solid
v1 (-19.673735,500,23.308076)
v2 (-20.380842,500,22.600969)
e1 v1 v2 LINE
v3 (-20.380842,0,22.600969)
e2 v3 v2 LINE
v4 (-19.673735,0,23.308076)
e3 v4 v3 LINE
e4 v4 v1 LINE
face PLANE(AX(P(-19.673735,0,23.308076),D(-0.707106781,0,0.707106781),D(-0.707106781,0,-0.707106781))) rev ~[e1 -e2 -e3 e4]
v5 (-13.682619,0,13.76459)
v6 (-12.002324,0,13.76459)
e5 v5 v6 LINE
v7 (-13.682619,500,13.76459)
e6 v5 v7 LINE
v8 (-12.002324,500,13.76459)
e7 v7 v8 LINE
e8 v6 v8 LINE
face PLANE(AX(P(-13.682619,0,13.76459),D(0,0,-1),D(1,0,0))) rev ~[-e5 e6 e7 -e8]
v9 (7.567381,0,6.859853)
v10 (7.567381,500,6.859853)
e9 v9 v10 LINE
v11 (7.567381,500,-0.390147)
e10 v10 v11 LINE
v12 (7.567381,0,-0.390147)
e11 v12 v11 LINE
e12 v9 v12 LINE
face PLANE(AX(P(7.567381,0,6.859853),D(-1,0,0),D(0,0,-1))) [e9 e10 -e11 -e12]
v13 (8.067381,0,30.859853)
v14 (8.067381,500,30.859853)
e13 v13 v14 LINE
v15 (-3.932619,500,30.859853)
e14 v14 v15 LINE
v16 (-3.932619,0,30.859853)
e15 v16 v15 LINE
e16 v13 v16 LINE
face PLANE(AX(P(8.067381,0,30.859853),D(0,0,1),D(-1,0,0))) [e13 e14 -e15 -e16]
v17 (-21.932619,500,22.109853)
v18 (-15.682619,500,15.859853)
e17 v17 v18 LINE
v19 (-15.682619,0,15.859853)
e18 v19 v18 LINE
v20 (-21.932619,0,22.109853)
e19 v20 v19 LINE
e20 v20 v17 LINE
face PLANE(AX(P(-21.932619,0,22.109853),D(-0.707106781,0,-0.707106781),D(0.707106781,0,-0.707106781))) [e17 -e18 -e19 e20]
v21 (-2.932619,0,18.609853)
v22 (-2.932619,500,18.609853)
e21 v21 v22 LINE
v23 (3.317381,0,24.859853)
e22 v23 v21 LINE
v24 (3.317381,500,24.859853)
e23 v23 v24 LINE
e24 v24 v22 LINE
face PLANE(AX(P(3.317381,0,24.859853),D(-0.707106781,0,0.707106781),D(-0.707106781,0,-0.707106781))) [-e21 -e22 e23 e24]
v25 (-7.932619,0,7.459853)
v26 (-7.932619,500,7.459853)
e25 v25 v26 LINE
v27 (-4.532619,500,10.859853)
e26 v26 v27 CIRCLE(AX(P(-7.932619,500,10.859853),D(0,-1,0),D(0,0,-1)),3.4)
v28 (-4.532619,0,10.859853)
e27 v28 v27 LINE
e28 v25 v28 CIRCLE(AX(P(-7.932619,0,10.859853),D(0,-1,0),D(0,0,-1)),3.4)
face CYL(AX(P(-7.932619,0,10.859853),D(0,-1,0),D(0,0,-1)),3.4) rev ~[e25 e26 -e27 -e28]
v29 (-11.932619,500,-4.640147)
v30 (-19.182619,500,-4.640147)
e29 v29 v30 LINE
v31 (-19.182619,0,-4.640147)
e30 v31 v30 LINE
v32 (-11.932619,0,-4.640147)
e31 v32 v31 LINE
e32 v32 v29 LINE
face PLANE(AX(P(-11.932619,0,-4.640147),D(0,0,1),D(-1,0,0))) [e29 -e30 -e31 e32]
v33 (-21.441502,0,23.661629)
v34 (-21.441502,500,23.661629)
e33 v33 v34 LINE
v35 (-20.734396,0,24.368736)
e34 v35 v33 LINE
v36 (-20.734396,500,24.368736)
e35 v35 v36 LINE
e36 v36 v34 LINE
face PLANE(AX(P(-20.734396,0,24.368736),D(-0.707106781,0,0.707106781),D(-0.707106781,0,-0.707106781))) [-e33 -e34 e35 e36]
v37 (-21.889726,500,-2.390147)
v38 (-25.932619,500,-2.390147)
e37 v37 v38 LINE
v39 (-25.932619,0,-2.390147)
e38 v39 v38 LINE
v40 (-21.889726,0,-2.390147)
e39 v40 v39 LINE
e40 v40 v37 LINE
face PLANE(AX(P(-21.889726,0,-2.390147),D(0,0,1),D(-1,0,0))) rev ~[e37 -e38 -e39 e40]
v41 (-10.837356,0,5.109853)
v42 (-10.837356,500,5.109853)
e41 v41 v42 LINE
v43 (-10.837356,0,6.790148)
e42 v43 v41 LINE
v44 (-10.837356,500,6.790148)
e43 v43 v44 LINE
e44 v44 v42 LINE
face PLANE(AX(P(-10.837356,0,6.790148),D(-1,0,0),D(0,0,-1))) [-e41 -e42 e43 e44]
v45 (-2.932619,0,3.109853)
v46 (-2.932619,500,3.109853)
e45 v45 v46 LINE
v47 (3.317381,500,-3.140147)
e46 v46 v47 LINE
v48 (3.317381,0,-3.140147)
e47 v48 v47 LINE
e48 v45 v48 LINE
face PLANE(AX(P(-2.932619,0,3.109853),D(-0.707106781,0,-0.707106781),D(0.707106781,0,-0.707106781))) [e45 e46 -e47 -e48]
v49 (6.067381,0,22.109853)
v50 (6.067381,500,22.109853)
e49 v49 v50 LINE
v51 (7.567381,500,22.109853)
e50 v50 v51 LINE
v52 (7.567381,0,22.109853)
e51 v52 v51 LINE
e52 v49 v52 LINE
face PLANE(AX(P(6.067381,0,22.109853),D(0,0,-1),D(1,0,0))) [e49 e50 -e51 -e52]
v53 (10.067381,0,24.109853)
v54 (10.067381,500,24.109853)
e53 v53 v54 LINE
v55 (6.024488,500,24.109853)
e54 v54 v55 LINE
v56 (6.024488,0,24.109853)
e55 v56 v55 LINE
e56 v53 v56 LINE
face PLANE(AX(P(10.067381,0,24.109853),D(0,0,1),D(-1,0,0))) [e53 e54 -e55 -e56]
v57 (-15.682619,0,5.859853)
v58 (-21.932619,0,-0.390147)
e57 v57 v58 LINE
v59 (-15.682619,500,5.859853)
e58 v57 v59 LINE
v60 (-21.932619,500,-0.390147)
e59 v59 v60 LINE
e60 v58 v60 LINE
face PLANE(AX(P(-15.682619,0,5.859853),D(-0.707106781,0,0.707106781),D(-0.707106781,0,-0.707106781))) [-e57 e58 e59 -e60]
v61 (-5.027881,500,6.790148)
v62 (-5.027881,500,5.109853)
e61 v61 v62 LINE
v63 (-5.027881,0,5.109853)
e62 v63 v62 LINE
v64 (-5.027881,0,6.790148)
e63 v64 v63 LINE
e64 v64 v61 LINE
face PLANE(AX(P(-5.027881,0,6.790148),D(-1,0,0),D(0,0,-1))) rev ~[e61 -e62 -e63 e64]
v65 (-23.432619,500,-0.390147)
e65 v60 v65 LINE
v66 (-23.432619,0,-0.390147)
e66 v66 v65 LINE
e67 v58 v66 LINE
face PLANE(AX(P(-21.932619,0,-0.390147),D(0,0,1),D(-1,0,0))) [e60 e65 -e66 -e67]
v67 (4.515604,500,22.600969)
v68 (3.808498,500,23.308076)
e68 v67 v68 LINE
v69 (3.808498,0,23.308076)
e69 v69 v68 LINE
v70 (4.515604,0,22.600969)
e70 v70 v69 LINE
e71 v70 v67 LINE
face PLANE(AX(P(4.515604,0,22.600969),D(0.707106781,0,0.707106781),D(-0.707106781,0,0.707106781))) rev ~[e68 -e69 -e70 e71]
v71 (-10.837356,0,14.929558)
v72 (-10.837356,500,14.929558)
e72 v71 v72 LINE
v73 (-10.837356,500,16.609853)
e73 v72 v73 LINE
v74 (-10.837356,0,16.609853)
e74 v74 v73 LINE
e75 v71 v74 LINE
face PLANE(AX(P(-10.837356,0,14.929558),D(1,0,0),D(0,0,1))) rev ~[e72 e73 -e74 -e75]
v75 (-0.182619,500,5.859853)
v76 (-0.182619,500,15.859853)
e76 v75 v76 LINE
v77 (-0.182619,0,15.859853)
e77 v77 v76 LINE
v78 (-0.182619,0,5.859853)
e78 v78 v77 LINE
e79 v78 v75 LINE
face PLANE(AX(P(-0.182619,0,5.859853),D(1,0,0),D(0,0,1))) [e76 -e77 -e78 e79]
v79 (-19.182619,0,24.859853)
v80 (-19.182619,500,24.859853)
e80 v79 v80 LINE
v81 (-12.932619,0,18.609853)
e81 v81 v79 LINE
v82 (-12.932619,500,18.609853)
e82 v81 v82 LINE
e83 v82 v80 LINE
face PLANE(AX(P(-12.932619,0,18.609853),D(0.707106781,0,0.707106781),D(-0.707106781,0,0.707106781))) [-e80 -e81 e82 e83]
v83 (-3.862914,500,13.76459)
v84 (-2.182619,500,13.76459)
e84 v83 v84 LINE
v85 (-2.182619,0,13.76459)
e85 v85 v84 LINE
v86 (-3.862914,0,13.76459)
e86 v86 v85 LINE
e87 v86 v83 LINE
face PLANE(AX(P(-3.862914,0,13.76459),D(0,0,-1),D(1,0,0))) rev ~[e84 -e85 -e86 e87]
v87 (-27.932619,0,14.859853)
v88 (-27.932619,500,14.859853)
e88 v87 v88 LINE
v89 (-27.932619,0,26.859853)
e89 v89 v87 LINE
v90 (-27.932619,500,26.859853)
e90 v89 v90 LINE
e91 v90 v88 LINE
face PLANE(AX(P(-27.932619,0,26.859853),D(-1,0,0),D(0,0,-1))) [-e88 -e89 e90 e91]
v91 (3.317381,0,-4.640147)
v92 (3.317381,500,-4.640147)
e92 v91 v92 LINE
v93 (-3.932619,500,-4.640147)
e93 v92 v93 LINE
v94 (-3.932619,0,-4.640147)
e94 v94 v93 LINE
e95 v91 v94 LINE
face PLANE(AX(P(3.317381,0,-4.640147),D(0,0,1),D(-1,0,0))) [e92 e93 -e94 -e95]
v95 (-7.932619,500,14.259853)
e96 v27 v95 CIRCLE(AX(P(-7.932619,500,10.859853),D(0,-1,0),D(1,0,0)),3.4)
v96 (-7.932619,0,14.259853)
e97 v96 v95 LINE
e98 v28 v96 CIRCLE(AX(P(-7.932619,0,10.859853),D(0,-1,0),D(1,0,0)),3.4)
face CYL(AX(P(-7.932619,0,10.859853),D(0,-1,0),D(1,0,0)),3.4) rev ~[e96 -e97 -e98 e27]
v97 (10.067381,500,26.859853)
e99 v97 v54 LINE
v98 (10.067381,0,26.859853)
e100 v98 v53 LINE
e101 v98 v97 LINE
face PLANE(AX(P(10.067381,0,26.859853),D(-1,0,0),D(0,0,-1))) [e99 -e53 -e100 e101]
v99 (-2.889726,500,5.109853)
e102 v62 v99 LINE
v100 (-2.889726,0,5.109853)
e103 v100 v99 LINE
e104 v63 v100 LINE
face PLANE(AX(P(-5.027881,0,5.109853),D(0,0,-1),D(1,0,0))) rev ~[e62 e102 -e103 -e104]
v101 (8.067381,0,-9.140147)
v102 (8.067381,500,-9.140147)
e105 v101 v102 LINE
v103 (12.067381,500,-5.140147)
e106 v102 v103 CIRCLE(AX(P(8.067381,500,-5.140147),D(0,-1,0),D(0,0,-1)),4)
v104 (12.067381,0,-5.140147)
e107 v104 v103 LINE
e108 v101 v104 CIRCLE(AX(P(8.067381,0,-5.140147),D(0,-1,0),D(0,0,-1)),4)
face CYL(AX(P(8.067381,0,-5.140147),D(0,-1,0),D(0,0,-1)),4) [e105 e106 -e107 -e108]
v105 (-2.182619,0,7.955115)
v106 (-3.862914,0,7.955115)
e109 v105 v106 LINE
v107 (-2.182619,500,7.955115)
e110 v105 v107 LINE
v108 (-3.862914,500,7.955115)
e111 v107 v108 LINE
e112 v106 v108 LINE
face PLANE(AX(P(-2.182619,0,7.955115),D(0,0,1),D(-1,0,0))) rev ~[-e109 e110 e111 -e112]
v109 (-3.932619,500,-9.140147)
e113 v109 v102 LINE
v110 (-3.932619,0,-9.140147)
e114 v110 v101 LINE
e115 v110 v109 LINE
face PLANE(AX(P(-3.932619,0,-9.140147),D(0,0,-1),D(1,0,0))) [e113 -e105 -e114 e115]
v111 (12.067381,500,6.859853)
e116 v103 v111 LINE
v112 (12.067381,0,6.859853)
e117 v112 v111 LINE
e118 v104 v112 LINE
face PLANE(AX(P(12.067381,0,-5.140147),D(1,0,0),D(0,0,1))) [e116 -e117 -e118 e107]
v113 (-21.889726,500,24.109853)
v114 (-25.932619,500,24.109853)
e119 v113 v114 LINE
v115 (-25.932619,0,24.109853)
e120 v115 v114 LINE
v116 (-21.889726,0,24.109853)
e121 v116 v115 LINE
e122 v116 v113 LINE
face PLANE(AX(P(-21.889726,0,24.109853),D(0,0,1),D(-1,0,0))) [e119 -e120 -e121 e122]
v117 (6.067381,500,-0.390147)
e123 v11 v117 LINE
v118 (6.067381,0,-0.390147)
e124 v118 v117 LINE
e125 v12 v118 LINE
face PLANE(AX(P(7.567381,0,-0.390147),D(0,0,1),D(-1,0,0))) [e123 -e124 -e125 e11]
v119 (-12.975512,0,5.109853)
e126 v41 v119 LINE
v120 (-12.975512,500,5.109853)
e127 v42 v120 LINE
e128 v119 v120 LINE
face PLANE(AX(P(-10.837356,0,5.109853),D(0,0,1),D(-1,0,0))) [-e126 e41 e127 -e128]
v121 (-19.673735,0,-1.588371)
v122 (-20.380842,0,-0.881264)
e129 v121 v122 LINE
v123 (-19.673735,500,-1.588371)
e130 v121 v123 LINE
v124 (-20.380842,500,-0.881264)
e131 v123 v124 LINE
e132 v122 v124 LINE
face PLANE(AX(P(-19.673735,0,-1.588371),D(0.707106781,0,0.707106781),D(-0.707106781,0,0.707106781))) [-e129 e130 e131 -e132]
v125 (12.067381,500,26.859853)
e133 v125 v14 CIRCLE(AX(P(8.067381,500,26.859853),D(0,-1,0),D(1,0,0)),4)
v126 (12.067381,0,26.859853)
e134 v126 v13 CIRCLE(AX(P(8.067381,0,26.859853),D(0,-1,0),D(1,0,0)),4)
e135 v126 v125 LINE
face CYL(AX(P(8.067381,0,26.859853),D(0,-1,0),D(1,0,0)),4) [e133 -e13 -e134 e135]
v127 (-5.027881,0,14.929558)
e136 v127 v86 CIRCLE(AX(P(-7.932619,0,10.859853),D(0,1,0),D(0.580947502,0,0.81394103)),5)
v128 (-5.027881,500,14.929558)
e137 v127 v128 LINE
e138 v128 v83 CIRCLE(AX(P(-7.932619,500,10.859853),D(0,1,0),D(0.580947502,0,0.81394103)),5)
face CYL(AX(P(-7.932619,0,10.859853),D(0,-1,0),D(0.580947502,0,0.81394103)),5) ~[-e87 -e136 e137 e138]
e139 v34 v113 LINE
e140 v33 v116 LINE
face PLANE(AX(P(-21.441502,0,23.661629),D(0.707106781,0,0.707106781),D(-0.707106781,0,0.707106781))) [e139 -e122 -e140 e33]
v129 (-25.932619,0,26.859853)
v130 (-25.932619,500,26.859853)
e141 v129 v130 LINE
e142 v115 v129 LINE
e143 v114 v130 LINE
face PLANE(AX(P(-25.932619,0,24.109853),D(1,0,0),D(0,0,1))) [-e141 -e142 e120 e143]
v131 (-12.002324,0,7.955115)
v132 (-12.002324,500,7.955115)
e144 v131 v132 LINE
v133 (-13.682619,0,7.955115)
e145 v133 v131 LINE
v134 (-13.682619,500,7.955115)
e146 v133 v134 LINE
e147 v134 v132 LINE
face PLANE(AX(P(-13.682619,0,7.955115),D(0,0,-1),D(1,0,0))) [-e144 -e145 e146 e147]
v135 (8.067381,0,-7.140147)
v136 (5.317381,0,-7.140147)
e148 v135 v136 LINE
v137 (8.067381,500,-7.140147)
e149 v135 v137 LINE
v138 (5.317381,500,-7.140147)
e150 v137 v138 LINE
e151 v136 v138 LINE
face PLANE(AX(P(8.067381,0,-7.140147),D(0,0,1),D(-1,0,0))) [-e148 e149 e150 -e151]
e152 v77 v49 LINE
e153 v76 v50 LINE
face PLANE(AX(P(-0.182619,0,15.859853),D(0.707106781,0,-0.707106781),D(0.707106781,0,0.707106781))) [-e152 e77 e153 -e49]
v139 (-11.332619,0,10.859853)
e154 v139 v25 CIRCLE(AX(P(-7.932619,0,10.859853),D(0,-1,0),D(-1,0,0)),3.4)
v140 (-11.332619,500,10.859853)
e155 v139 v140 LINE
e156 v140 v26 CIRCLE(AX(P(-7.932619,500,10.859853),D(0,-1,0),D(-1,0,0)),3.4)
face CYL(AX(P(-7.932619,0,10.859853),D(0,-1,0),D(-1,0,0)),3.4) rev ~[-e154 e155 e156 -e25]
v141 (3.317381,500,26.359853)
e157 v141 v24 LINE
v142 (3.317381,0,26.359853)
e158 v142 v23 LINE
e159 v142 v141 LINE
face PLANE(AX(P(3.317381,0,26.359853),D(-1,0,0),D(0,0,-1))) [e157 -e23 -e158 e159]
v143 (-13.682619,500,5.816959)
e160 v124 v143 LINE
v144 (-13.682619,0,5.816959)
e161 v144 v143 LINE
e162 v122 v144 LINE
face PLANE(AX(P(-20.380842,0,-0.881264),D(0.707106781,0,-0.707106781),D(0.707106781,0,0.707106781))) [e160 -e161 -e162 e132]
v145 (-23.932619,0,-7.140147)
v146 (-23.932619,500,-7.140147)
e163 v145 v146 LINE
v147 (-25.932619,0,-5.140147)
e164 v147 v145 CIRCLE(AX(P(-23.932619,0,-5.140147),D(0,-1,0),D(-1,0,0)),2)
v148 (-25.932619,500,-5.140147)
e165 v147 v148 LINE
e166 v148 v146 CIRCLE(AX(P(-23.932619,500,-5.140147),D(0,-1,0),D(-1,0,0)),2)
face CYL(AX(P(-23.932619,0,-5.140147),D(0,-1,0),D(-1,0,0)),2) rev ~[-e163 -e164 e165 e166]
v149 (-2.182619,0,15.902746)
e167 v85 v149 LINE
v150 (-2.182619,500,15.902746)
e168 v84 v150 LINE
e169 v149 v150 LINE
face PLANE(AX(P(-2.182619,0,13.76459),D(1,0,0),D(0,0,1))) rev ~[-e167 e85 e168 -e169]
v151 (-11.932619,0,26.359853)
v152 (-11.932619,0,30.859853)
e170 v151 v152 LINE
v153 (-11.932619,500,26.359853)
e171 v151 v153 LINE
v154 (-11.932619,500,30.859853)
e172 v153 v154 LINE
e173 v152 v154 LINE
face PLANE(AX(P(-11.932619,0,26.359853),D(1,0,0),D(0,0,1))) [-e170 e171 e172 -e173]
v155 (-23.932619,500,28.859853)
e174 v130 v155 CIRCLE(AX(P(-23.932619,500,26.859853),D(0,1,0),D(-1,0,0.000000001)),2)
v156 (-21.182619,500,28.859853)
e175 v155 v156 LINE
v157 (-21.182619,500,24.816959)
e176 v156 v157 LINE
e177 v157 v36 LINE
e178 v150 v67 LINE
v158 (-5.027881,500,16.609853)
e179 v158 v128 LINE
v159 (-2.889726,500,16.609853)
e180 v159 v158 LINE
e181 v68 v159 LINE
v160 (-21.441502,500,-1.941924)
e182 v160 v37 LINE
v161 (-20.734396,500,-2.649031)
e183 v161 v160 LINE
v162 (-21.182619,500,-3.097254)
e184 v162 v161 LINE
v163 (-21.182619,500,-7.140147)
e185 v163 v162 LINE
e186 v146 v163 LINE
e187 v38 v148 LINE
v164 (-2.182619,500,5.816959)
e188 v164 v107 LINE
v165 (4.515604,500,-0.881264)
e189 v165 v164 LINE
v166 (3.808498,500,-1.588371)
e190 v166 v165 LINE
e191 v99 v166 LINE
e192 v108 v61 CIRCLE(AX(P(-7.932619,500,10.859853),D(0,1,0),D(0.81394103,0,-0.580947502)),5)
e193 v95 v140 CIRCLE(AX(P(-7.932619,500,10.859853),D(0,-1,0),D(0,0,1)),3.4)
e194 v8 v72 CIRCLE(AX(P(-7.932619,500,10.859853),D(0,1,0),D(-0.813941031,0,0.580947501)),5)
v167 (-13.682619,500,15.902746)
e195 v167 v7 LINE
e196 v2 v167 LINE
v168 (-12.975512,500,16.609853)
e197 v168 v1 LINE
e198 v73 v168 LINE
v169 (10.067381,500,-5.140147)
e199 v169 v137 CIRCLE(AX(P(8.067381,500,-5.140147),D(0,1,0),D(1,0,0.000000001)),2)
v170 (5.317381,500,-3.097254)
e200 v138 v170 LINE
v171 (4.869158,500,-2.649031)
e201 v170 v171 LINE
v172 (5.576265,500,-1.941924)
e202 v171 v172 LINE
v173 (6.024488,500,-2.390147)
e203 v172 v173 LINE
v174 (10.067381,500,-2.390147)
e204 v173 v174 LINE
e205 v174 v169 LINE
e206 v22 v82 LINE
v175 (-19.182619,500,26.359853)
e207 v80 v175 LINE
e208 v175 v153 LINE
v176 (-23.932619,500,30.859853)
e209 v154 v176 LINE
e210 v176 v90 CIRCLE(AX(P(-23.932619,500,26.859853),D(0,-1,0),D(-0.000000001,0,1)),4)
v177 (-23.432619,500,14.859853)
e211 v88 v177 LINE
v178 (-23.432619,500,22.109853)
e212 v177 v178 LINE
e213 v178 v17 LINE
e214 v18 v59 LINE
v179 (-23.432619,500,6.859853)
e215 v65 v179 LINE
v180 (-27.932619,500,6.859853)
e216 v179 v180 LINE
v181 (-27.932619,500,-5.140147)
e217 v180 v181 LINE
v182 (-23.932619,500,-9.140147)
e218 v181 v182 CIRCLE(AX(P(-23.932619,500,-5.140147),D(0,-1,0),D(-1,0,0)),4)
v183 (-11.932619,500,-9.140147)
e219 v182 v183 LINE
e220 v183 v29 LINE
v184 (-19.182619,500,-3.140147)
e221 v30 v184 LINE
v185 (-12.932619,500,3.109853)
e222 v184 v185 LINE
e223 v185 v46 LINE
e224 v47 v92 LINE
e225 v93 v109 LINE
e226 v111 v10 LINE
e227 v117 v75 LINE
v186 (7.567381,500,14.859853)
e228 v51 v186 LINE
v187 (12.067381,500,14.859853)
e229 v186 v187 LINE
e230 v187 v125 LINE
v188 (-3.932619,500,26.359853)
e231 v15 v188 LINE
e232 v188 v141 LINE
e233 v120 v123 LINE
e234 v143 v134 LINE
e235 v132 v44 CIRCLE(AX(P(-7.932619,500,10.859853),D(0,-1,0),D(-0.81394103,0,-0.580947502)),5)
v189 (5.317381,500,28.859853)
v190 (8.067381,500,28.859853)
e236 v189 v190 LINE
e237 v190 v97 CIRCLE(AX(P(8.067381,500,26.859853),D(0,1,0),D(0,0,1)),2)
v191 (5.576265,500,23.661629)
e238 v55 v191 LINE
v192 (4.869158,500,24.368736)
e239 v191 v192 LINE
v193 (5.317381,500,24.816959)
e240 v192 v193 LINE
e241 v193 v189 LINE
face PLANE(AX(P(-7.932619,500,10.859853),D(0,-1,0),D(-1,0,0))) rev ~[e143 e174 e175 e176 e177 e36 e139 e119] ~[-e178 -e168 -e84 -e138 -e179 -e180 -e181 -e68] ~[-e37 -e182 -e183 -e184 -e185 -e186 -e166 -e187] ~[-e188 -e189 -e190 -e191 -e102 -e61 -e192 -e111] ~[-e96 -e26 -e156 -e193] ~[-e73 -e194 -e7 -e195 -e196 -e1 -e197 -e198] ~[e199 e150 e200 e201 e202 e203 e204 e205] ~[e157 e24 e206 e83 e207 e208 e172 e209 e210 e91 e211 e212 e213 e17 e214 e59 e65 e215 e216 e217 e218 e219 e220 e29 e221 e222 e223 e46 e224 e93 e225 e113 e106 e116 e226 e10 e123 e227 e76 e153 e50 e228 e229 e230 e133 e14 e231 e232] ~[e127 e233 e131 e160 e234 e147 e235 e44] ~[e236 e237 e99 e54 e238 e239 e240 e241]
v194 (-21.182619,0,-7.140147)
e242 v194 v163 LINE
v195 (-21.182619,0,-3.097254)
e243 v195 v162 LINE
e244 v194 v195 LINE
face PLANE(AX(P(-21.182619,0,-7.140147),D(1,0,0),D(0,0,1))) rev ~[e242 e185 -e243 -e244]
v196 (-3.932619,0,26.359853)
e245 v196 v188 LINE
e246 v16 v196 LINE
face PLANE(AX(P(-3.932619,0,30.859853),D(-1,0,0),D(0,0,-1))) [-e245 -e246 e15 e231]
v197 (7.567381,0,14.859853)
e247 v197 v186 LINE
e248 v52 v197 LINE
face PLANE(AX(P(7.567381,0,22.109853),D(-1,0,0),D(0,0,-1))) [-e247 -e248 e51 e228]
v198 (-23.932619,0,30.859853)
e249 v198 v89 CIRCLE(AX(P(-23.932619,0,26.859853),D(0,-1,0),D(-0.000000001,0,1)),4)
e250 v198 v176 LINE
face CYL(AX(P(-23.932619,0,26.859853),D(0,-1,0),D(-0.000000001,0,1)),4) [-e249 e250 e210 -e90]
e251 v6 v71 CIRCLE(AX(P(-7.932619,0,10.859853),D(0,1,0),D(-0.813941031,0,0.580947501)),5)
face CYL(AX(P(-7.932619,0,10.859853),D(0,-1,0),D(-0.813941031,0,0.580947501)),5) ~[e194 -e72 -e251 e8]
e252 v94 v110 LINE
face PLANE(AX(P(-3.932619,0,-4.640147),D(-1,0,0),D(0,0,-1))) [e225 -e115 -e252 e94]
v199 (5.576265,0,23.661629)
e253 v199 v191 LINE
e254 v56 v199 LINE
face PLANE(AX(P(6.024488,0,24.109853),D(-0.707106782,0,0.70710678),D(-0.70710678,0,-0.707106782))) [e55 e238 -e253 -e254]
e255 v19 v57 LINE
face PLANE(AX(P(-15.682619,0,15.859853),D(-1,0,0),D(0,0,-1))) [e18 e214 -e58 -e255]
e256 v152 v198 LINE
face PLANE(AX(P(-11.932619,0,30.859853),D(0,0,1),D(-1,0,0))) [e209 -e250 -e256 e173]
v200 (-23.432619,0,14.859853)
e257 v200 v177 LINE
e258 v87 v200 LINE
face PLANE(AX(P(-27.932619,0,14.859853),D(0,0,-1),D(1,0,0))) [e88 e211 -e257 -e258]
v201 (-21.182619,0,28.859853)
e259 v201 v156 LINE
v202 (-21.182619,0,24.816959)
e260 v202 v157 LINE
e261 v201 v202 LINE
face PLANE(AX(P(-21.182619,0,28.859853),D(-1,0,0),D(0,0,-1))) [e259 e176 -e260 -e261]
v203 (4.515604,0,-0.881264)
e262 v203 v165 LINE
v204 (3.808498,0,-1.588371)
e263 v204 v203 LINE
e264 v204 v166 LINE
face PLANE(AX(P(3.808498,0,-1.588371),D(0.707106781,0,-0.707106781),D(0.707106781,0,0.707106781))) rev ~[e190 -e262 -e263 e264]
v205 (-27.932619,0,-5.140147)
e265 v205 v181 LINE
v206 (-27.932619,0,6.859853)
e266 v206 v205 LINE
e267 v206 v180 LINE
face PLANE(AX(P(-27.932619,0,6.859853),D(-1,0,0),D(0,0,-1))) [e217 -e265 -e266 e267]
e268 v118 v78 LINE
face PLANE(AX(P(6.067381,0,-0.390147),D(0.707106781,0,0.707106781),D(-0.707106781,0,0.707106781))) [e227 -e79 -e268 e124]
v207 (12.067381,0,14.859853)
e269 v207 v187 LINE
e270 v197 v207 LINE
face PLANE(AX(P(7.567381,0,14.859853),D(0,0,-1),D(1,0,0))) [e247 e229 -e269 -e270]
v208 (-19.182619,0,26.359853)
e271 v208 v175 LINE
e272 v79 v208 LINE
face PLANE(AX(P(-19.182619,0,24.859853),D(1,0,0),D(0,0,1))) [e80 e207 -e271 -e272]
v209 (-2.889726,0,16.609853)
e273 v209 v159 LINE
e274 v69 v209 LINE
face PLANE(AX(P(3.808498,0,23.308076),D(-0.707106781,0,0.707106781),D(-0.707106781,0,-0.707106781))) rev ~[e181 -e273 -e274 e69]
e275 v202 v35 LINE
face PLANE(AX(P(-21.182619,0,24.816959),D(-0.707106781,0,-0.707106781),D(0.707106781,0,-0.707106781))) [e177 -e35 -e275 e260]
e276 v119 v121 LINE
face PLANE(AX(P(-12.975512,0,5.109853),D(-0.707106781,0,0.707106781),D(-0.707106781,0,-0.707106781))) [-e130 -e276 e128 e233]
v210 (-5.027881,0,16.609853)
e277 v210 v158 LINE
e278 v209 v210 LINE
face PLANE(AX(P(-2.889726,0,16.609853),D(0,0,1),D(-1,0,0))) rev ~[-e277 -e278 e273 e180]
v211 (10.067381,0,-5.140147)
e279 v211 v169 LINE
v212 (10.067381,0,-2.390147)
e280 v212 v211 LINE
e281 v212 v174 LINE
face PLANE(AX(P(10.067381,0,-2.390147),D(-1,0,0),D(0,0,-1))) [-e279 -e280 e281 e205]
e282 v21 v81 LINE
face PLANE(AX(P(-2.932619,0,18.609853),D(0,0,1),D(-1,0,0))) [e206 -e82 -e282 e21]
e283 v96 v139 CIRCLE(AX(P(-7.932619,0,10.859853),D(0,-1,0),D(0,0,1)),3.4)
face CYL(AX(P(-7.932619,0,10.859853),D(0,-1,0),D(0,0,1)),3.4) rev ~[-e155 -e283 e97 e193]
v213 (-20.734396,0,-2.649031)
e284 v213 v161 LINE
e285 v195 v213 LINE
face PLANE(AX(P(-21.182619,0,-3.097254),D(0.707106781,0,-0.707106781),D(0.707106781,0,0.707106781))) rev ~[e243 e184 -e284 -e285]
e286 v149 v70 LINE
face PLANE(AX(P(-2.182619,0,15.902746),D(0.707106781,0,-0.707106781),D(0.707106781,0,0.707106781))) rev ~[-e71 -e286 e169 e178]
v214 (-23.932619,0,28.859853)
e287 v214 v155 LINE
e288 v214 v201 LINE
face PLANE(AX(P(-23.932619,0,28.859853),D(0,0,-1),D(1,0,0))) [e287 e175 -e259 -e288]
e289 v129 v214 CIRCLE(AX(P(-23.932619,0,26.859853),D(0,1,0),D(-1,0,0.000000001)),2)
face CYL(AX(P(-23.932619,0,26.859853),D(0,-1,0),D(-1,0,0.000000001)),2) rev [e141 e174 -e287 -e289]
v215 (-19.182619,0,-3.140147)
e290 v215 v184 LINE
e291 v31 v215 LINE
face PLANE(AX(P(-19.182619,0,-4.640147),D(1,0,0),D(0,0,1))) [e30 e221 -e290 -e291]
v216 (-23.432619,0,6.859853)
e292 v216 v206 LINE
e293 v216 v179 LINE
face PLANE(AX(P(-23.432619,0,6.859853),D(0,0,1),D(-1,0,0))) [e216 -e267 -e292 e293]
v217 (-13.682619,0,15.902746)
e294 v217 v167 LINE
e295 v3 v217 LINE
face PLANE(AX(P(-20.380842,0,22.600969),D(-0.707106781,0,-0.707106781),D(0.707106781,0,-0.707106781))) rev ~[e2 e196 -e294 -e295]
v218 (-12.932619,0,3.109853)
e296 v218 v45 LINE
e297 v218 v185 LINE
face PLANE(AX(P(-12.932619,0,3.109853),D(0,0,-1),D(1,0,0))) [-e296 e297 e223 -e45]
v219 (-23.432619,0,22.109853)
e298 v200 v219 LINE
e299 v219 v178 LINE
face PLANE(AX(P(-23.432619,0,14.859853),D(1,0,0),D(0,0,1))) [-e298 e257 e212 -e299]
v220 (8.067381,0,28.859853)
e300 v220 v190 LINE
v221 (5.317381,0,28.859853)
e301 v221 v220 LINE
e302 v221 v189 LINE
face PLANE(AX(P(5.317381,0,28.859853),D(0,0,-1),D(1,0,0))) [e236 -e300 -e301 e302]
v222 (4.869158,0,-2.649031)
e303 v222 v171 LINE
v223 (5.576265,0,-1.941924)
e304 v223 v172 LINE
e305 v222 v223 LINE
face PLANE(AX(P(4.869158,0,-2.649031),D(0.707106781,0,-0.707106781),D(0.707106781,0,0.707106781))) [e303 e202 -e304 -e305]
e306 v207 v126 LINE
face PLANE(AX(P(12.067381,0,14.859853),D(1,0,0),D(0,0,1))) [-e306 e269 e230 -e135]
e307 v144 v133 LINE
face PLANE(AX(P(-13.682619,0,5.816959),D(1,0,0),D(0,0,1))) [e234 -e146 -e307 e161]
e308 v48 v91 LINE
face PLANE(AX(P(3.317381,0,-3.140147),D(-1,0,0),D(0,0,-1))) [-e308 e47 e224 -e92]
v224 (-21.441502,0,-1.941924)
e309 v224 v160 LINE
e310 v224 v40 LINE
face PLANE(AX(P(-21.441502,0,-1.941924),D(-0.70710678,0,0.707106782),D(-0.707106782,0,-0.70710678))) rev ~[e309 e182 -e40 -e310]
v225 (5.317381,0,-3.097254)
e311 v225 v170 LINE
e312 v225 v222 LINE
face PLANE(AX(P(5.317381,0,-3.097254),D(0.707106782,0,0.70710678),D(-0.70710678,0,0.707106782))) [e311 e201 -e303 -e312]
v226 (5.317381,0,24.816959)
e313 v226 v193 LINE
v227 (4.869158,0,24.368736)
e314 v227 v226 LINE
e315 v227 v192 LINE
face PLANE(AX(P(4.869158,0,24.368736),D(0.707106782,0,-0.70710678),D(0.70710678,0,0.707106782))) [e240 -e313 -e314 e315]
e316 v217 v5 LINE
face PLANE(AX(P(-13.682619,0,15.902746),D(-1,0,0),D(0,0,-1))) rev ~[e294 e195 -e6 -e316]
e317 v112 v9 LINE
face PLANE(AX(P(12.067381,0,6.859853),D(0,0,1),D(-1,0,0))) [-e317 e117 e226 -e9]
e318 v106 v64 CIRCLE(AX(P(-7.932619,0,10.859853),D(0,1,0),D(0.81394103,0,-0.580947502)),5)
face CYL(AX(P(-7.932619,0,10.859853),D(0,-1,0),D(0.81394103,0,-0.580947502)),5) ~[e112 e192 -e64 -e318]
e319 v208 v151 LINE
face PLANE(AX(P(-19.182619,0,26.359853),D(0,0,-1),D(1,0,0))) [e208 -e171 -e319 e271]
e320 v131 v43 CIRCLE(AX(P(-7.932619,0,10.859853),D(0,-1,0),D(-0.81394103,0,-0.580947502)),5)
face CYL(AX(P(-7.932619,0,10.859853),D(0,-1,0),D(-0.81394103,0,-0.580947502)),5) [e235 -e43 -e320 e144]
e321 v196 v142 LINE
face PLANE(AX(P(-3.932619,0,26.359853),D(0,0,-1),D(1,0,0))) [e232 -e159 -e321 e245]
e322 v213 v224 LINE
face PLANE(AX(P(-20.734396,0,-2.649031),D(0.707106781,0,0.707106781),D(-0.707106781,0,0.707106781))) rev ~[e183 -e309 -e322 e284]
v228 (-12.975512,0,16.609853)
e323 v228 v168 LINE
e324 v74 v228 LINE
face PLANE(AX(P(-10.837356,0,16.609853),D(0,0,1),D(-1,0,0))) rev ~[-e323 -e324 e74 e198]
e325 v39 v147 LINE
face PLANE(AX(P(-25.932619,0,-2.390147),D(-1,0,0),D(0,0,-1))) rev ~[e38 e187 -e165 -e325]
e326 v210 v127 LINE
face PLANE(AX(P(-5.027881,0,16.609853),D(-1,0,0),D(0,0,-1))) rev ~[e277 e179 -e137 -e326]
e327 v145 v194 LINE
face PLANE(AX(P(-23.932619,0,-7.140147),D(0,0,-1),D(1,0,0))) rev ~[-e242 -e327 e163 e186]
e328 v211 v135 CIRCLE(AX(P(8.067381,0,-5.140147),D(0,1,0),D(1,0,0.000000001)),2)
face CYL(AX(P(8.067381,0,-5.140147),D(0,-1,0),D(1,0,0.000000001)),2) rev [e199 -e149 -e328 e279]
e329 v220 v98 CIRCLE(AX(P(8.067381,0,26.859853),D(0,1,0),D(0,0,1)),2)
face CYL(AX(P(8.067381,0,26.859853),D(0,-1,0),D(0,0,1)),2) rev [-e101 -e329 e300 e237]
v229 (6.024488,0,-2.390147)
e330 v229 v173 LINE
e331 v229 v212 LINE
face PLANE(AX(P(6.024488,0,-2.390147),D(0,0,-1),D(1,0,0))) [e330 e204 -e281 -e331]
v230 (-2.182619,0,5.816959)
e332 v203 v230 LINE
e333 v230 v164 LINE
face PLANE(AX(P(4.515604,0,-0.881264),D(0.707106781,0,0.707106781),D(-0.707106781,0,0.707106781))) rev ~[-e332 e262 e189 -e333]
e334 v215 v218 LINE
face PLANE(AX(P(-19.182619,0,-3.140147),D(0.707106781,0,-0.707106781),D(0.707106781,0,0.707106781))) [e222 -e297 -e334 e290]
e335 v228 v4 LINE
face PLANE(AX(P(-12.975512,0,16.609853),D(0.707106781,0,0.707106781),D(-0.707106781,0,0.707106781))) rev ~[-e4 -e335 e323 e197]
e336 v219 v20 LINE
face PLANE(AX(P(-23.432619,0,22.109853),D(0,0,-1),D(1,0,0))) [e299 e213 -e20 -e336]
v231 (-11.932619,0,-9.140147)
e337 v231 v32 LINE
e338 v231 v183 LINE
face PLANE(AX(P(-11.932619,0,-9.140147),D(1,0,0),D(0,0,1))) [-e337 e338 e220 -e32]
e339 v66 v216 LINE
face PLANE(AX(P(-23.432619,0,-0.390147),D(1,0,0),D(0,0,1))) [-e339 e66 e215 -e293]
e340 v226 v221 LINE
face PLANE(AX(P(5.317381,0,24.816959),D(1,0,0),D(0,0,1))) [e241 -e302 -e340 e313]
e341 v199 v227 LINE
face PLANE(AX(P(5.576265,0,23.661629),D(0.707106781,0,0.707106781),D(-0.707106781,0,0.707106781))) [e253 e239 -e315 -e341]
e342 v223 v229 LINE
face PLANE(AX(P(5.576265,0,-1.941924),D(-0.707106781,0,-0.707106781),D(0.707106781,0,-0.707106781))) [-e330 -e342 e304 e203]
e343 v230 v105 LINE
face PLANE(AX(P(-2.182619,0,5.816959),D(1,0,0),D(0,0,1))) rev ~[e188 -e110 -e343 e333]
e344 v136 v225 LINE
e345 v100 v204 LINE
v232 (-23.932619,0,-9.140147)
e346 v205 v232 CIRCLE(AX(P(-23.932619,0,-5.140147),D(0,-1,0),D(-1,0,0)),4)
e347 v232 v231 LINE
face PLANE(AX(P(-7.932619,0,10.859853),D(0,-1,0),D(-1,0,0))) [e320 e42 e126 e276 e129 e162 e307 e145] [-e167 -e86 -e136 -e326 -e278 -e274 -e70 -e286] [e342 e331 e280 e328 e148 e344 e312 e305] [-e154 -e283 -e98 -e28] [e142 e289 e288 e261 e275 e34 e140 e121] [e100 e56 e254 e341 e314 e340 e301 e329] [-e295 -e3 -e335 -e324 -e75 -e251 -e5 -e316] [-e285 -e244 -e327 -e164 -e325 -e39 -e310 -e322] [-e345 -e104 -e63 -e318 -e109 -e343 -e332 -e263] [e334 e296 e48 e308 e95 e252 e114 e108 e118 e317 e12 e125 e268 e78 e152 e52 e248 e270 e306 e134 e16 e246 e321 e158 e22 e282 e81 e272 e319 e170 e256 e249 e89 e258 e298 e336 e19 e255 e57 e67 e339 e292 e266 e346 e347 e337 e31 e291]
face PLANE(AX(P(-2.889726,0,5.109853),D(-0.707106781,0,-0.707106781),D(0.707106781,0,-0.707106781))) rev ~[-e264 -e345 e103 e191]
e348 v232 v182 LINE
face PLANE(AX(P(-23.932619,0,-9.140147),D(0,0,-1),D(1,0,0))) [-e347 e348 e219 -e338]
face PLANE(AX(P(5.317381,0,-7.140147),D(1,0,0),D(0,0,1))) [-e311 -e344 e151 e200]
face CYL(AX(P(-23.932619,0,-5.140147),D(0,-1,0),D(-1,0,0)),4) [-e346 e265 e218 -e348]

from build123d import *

# Parameters (mm, degrees)
BOSS_EXTRUDE1_DEPTH = 500


with BuildPart() as part:
    # Sketch1 → Boss-Extrude1 (new body)
    with BuildSketch(Plane(origin=(0, 0, 0), x_dir=(1, 0, 0), z_dir=(0, 1, 0))):
        with BuildLine():
            Line((-27.932618907, -6.859852703), (-27.932618907, 5.140147297))
            ThreePointArc((-27.932618907, 5.140147297), (-26.761046031, 7.968574422), (-23.932618907, 9.140147297))
            Line((-23.932618907, 9.140147297), (-11.932618907, 9.140147297))
            Line((-11.932618907, 9.140147297), (-11.932618907, 4.640147297))
            Line((-11.932618907, 4.640147297), (-19.182618907, 4.640147297))
            Line((-19.182618907, 4.640147297), (-19.182618907, 3.140147297))
            Line((-19.182618907, 3.140147297), (-12.932618907, -3.109852703))
            Line((-12.932618907, -3.109852703), (-7.932618907, -3.109852703))
            Line((-7.932618907, -3.109852703), (-2.932618907, -3.109852703))
            Line((-2.932618907, -3.109852703), (3.317381093, 3.140147297))
            Line((3.317381093, 3.140147297), (3.317381093, 4.640147297))
            Line((3.317381093, 4.640147297), (-3.932618907, 4.640147297))
            Line((-3.932618907, 4.640147297), (-3.932618907, 9.140147297))
            Line((-3.932618907, 9.140147297), (8.067381093, 9.140147297))
            ThreePointArc((8.067381093, 9.140147297), (10.895808218, 7.968574422), (12.067381093, 5.140147297))
            Line((12.067381093, 5.140147297), (12.067381093, -6.859852703))
            Line((12.067381093, -6.859852703), (7.567381093, -6.859852703))
            Line((7.567381093, -6.859852703), (7.567381093, 0.390147297))
            Line((7.567381093, 0.390147297), (6.067381093, 0.390147297))
            Line((6.067381093, 0.390147297), (-0.182618907, -5.859852703))
            Line((-0.182618907, -5.859852703), (-0.182618907, -10.859852703))
            Line((-0.182618907, -10.859852703), (-0.182618907, -15.859852703))
            Line((-0.182618907, -15.859852703), (6.067381093, -22.109852703))
            Line((6.067381093, -22.109852703), (7.567381093, -22.109852703))
            Line((7.567381093, -22.109852703), (7.567381093, -14.859852703))
            Line((7.567381093, -14.859852703), (12.067381093, -14.859852703))
            Line((12.067381093, -14.859852703), (12.067381093, -26.859852703))
            ThreePointArc((12.067381093, -26.859852703), (10.895808218, -29.688279827), (8.067381093, -30.859852703))
            Line((8.067381093, -30.859852703), (-3.932618907, -30.859852703))
            Line((-3.932618907, -30.859852703), (-3.932618907, -26.359852703))
            Line((-3.932618907, -26.359852703), (3.317381093, -26.359852703))
            Line((3.317381093, -26.359852703), (3.317381093, -24.859852703))
            Line((3.317381093, -24.859852703), (-2.932618907, -18.609852703))
            Line((-2.932618907, -18.609852703), (-7.932618907, -18.609852703))
            Line((-7.932618907, -18.609852703), (-12.932618907, -18.609852703))
            Line((-12.932618907, -18.609852703), (-19.182618907, -24.859852703))
            Line((-19.182618907, -24.859852703), (-19.182618907, -26.359852703))
            Line((-19.182618907, -26.359852703), (-11.932618907, -26.359852703))
            Line((-11.932618907, -26.359852703), (-11.932618907, -30.859852703))
            Line((-11.932618907, -30.859852703), (-23.932618907, -30.859852703))
            ThreePointArc((-23.932618907, -30.859852703), (-26.761046031, -29.688279827), (-27.932618907, -26.859852703))
            Line((-27.932618907, -26.859852703), (-27.932618907, -14.859852703))
            Line((-27.932618907, -14.859852703), (-23.432618907, -14.859852703))
            Line((-23.432618907, -14.859852703), (-23.432618907, -22.109852703))
            Line((-23.432618907, -22.109852703), (-21.932618907, -22.109852703))
            Line((-21.932618907, -22.109852703), (-15.682618907, -15.859852703))
            Line((-15.682618907, -15.859852703), (-15.682618907, -10.859852703))
            Line((-15.682618907, -10.859852703), (-15.682618907, -5.859852703))
            Line((-15.682618907, -5.859852703), (-21.932618907, 0.390147297))
            Line((-21.932618907, 0.390147297), (-23.432618907, 0.390147297))
            Line((-23.432618907, 0.390147297), (-23.432618907, -6.859852703))
            Line((-23.432618907, -6.859852703), (-27.932618907, -6.859852703))
        make_face()
        with BuildLine():
            Line((-25.932618907, 2.390147297), (-25.932618907, 5.140147297))
            ThreePointArc((-25.932618907, 5.140147297), (-25.346832469, 6.55436086), (-23.932618907, 7.140147297))
            Line((-23.932618907, 7.140147297), (-21.182618907, 7.140147297))
            Line((-21.182618907, 7.140147297), (-21.182618907, 3.097254079))
            Line((-21.182618907, 3.097254079), (-20.734395602, 2.649030774))
            Line((-20.734395602, 2.649030774), (-21.441502383, 1.941923993))
            Line((-21.441502383, 1.941923993), (-21.889725688, 2.390147297))
            Line((-21.889725688, 2.390147297), (-25.932618907, 2.390147297))
        make_face(mode=Mode.SUBTRACT)
        with BuildLine():
            Line((-20.380842211, 0.881263821), (-13.682618907, -5.816959484))
            Line((-13.682618907, -5.816959484), (-13.682618907, -7.955115193))
            Line((-13.682618907, -7.955115193), (-13.182618907, -7.955115193))
            Line((-13.182618907, -7.955115193), (-12.002324056, -7.955115193))
            ThreePointArc((-12.002324056, -7.955115193), (-11.468152813, -7.324318797), (-10.837356416, -6.790147554))
            Line((-10.837356416, -6.790147554), (-10.837356416, -5.609852703))
            Line((-10.837356416, -5.609852703), (-10.837356416, -5.109852703))
            Line((-10.837356416, -5.109852703), (-12.975512126, -5.109852703))
            Line((-12.975512126, -5.109852703), (-19.67373543, 1.588370602))
            Line((-19.67373543, 1.588370602), (-20.380842211, 0.881263821))
        make_face(mode=Mode.SUBTRACT)
        with BuildLine():
            Line((10.067381093, 2.390147297), (10.067381093, 5.140147297))
            ThreePointArc((10.067381093, 5.140147297), (9.481594656, 6.55436086), (8.067381093, 7.140147297))
            Line((8.067381093, 7.140147297), (5.317381093, 7.140147297))
            Line((5.317381093, 7.140147297), (5.317381093, 3.097254079))
            Line((5.317381093, 3.097254079), (4.869157789, 2.649030774))
            Line((4.869157789, 2.649030774), (5.57626457, 1.941923993))
            Line((5.57626457, 1.941923993), (6.024487874, 2.390147297))
            Line((6.024487874, 2.390147297), (10.067381093, 2.390147297))
        make_face(mode=Mode.SUBTRACT)
        with BuildLine():
            Line((-2.182618907, -5.816959484), (-2.182618907, -7.955115193))
            Line((-2.182618907, -7.955115193), (-2.682618907, -7.955115193))
            Line((-2.682618907, -7.955115193), (-3.862913758, -7.955115193))
            ThreePointArc((-3.862913758, -7.955115193), (-4.397085001, -7.324318797), (-5.027881397, -6.790147554))
            Line((-5.027881397, -6.790147554), (-5.027881397, -5.609852703))
            Line((-5.027881397, -5.609852703), (-5.027881397, -5.109852703))
            Line((-5.027881397, -5.109852703), (-2.889725688, -5.109852703))
            Line((-2.889725688, -5.109852703), (3.808497617, 1.588370602))
            Line((3.808497617, 1.588370602), (4.515604398, 0.881263821))
            Line((4.515604398, 0.881263821), (-2.182618907, -5.816959484))
        make_face(mode=Mode.SUBTRACT)
        with BuildLine():
            Line((5.317381093, -28.859852703), (8.067381093, -28.859852703))
            ThreePointArc((8.067381093, -28.859852703), (9.481594656, -28.274066265), (10.067381093, -26.859852703))
            Line((10.067381093, -26.859852703), (10.067381093, -24.109852703))
            Line((10.067381093, -24.109852703), (6.024487874, -24.109852703))
            Line((6.024487874, -24.109852703), (5.57626457, -23.661629398))
            Line((5.57626457, -23.661629398), (4.869157789, -24.368736179))
            Line((4.869157789, -24.368736179), (5.317381093, -24.816959484))
            Line((5.317381093, -24.816959484), (5.317381093, -28.859852703))
        make_face(mode=Mode.SUBTRACT)
        with BuildLine():
            Line((-2.889725688, -16.609852703), (-5.027881397, -16.609852703))
            Line((-5.027881397, -16.609852703), (-5.027881397, -16.109852703))
            Line((-5.027881397, -16.109852703), (-5.027881397, -14.929557852))
            ThreePointArc((-5.027881397, -14.929557852), (-4.397085001, -14.395386609), (-3.862913758, -13.764590212))
            Line((-3.862913758, -13.764590212), (-2.682618907, -13.764590212))
            Line((-2.682618907, -13.764590212), (-2.182618907, -13.764590212))
            Line((-2.182618907, -13.764590212), (-2.182618907, -15.902745921))
            Line((-2.182618907, -15.902745921), (4.515604398, -22.600969226))
            Line((4.515604398, -22.600969226), (3.808497617, -23.308076007))
            Line((3.808497617, -23.308076007), (-2.889725688, -16.609852703))
        make_face(mode=Mode.SUBTRACT)
        with BuildLine():
            Line((-25.932618907, -24.109852703), (-25.932618907, -26.859852703))
            ThreePointArc((-25.932618907, -26.859852703), (-25.346832469, -28.274066265), (-23.932618907, -28.859852703))
            Line((-23.932618907, -28.859852703), (-21.182618907, -28.859852703))
            Line((-21.182618907, -28.859852703), (-21.182618907, -24.816959484))
            Line((-21.182618907, -24.816959484), (-20.734395602, -24.368736179))
            Line((-20.734395602, -24.368736179), (-21.441502383, -23.661629398))
            Line((-21.441502383, -23.661629398), (-21.889725688, -24.109852703))
            Line((-21.889725688, -24.109852703), (-25.932618907, -24.109852703))
        make_face(mode=Mode.SUBTRACT)
        with BuildLine():
            Line((-13.682618907, -15.902745921), (-13.682618907, -13.764590212))
            Line((-13.682618907, -13.764590212), (-13.182618907, -13.764590212))
            Line((-13.182618907, -13.764590212), (-12.002324056, -13.764590212))
            ThreePointArc((-12.002324056, -13.764590212), (-11.468152813, -14.395386609), (-10.837356416, -14.929557852))
            Line((-10.837356416, -14.929557852), (-10.837356416, -16.109852703))
            Line((-10.837356416, -16.109852703), (-10.837356416, -16.609852703))
            Line((-10.837356416, -16.609852703), (-12.975512126, -16.609852703))
            Line((-12.975512126, -16.609852703), (-19.67373543, -23.308076007))
            Line((-19.67373543, -23.308076007), (-20.380842211, -22.600969226))
            Line((-20.380842211, -22.600969226), (-13.682618907, -15.902745921))
        make_face(mode=Mode.SUBTRACT)
        with BuildLine():
            ThreePointArc((-11.332618907, -10.859852703), (-10.336781963, -8.455689647), (-7.932618907, -7.459852703))
            ThreePointArc((-7.932618907, -7.459852703), (-5.528455851, -8.455689647), (-4.532618907, -10.859852703))
            ThreePointArc((-4.532618907, -10.859852703), (-5.528455851, -13.264015759), (-7.932618907, -14.259852703))
            ThreePointArc((-7.932618907, -14.259852703), (-10.336781963, -13.264015759), (-11.332618907, -10.859852703))
        make_face(mode=Mode.SUBTRACT)
    extrude(amount=BOSS_EXTRUDE1_DEPTH)


solid = part.part
